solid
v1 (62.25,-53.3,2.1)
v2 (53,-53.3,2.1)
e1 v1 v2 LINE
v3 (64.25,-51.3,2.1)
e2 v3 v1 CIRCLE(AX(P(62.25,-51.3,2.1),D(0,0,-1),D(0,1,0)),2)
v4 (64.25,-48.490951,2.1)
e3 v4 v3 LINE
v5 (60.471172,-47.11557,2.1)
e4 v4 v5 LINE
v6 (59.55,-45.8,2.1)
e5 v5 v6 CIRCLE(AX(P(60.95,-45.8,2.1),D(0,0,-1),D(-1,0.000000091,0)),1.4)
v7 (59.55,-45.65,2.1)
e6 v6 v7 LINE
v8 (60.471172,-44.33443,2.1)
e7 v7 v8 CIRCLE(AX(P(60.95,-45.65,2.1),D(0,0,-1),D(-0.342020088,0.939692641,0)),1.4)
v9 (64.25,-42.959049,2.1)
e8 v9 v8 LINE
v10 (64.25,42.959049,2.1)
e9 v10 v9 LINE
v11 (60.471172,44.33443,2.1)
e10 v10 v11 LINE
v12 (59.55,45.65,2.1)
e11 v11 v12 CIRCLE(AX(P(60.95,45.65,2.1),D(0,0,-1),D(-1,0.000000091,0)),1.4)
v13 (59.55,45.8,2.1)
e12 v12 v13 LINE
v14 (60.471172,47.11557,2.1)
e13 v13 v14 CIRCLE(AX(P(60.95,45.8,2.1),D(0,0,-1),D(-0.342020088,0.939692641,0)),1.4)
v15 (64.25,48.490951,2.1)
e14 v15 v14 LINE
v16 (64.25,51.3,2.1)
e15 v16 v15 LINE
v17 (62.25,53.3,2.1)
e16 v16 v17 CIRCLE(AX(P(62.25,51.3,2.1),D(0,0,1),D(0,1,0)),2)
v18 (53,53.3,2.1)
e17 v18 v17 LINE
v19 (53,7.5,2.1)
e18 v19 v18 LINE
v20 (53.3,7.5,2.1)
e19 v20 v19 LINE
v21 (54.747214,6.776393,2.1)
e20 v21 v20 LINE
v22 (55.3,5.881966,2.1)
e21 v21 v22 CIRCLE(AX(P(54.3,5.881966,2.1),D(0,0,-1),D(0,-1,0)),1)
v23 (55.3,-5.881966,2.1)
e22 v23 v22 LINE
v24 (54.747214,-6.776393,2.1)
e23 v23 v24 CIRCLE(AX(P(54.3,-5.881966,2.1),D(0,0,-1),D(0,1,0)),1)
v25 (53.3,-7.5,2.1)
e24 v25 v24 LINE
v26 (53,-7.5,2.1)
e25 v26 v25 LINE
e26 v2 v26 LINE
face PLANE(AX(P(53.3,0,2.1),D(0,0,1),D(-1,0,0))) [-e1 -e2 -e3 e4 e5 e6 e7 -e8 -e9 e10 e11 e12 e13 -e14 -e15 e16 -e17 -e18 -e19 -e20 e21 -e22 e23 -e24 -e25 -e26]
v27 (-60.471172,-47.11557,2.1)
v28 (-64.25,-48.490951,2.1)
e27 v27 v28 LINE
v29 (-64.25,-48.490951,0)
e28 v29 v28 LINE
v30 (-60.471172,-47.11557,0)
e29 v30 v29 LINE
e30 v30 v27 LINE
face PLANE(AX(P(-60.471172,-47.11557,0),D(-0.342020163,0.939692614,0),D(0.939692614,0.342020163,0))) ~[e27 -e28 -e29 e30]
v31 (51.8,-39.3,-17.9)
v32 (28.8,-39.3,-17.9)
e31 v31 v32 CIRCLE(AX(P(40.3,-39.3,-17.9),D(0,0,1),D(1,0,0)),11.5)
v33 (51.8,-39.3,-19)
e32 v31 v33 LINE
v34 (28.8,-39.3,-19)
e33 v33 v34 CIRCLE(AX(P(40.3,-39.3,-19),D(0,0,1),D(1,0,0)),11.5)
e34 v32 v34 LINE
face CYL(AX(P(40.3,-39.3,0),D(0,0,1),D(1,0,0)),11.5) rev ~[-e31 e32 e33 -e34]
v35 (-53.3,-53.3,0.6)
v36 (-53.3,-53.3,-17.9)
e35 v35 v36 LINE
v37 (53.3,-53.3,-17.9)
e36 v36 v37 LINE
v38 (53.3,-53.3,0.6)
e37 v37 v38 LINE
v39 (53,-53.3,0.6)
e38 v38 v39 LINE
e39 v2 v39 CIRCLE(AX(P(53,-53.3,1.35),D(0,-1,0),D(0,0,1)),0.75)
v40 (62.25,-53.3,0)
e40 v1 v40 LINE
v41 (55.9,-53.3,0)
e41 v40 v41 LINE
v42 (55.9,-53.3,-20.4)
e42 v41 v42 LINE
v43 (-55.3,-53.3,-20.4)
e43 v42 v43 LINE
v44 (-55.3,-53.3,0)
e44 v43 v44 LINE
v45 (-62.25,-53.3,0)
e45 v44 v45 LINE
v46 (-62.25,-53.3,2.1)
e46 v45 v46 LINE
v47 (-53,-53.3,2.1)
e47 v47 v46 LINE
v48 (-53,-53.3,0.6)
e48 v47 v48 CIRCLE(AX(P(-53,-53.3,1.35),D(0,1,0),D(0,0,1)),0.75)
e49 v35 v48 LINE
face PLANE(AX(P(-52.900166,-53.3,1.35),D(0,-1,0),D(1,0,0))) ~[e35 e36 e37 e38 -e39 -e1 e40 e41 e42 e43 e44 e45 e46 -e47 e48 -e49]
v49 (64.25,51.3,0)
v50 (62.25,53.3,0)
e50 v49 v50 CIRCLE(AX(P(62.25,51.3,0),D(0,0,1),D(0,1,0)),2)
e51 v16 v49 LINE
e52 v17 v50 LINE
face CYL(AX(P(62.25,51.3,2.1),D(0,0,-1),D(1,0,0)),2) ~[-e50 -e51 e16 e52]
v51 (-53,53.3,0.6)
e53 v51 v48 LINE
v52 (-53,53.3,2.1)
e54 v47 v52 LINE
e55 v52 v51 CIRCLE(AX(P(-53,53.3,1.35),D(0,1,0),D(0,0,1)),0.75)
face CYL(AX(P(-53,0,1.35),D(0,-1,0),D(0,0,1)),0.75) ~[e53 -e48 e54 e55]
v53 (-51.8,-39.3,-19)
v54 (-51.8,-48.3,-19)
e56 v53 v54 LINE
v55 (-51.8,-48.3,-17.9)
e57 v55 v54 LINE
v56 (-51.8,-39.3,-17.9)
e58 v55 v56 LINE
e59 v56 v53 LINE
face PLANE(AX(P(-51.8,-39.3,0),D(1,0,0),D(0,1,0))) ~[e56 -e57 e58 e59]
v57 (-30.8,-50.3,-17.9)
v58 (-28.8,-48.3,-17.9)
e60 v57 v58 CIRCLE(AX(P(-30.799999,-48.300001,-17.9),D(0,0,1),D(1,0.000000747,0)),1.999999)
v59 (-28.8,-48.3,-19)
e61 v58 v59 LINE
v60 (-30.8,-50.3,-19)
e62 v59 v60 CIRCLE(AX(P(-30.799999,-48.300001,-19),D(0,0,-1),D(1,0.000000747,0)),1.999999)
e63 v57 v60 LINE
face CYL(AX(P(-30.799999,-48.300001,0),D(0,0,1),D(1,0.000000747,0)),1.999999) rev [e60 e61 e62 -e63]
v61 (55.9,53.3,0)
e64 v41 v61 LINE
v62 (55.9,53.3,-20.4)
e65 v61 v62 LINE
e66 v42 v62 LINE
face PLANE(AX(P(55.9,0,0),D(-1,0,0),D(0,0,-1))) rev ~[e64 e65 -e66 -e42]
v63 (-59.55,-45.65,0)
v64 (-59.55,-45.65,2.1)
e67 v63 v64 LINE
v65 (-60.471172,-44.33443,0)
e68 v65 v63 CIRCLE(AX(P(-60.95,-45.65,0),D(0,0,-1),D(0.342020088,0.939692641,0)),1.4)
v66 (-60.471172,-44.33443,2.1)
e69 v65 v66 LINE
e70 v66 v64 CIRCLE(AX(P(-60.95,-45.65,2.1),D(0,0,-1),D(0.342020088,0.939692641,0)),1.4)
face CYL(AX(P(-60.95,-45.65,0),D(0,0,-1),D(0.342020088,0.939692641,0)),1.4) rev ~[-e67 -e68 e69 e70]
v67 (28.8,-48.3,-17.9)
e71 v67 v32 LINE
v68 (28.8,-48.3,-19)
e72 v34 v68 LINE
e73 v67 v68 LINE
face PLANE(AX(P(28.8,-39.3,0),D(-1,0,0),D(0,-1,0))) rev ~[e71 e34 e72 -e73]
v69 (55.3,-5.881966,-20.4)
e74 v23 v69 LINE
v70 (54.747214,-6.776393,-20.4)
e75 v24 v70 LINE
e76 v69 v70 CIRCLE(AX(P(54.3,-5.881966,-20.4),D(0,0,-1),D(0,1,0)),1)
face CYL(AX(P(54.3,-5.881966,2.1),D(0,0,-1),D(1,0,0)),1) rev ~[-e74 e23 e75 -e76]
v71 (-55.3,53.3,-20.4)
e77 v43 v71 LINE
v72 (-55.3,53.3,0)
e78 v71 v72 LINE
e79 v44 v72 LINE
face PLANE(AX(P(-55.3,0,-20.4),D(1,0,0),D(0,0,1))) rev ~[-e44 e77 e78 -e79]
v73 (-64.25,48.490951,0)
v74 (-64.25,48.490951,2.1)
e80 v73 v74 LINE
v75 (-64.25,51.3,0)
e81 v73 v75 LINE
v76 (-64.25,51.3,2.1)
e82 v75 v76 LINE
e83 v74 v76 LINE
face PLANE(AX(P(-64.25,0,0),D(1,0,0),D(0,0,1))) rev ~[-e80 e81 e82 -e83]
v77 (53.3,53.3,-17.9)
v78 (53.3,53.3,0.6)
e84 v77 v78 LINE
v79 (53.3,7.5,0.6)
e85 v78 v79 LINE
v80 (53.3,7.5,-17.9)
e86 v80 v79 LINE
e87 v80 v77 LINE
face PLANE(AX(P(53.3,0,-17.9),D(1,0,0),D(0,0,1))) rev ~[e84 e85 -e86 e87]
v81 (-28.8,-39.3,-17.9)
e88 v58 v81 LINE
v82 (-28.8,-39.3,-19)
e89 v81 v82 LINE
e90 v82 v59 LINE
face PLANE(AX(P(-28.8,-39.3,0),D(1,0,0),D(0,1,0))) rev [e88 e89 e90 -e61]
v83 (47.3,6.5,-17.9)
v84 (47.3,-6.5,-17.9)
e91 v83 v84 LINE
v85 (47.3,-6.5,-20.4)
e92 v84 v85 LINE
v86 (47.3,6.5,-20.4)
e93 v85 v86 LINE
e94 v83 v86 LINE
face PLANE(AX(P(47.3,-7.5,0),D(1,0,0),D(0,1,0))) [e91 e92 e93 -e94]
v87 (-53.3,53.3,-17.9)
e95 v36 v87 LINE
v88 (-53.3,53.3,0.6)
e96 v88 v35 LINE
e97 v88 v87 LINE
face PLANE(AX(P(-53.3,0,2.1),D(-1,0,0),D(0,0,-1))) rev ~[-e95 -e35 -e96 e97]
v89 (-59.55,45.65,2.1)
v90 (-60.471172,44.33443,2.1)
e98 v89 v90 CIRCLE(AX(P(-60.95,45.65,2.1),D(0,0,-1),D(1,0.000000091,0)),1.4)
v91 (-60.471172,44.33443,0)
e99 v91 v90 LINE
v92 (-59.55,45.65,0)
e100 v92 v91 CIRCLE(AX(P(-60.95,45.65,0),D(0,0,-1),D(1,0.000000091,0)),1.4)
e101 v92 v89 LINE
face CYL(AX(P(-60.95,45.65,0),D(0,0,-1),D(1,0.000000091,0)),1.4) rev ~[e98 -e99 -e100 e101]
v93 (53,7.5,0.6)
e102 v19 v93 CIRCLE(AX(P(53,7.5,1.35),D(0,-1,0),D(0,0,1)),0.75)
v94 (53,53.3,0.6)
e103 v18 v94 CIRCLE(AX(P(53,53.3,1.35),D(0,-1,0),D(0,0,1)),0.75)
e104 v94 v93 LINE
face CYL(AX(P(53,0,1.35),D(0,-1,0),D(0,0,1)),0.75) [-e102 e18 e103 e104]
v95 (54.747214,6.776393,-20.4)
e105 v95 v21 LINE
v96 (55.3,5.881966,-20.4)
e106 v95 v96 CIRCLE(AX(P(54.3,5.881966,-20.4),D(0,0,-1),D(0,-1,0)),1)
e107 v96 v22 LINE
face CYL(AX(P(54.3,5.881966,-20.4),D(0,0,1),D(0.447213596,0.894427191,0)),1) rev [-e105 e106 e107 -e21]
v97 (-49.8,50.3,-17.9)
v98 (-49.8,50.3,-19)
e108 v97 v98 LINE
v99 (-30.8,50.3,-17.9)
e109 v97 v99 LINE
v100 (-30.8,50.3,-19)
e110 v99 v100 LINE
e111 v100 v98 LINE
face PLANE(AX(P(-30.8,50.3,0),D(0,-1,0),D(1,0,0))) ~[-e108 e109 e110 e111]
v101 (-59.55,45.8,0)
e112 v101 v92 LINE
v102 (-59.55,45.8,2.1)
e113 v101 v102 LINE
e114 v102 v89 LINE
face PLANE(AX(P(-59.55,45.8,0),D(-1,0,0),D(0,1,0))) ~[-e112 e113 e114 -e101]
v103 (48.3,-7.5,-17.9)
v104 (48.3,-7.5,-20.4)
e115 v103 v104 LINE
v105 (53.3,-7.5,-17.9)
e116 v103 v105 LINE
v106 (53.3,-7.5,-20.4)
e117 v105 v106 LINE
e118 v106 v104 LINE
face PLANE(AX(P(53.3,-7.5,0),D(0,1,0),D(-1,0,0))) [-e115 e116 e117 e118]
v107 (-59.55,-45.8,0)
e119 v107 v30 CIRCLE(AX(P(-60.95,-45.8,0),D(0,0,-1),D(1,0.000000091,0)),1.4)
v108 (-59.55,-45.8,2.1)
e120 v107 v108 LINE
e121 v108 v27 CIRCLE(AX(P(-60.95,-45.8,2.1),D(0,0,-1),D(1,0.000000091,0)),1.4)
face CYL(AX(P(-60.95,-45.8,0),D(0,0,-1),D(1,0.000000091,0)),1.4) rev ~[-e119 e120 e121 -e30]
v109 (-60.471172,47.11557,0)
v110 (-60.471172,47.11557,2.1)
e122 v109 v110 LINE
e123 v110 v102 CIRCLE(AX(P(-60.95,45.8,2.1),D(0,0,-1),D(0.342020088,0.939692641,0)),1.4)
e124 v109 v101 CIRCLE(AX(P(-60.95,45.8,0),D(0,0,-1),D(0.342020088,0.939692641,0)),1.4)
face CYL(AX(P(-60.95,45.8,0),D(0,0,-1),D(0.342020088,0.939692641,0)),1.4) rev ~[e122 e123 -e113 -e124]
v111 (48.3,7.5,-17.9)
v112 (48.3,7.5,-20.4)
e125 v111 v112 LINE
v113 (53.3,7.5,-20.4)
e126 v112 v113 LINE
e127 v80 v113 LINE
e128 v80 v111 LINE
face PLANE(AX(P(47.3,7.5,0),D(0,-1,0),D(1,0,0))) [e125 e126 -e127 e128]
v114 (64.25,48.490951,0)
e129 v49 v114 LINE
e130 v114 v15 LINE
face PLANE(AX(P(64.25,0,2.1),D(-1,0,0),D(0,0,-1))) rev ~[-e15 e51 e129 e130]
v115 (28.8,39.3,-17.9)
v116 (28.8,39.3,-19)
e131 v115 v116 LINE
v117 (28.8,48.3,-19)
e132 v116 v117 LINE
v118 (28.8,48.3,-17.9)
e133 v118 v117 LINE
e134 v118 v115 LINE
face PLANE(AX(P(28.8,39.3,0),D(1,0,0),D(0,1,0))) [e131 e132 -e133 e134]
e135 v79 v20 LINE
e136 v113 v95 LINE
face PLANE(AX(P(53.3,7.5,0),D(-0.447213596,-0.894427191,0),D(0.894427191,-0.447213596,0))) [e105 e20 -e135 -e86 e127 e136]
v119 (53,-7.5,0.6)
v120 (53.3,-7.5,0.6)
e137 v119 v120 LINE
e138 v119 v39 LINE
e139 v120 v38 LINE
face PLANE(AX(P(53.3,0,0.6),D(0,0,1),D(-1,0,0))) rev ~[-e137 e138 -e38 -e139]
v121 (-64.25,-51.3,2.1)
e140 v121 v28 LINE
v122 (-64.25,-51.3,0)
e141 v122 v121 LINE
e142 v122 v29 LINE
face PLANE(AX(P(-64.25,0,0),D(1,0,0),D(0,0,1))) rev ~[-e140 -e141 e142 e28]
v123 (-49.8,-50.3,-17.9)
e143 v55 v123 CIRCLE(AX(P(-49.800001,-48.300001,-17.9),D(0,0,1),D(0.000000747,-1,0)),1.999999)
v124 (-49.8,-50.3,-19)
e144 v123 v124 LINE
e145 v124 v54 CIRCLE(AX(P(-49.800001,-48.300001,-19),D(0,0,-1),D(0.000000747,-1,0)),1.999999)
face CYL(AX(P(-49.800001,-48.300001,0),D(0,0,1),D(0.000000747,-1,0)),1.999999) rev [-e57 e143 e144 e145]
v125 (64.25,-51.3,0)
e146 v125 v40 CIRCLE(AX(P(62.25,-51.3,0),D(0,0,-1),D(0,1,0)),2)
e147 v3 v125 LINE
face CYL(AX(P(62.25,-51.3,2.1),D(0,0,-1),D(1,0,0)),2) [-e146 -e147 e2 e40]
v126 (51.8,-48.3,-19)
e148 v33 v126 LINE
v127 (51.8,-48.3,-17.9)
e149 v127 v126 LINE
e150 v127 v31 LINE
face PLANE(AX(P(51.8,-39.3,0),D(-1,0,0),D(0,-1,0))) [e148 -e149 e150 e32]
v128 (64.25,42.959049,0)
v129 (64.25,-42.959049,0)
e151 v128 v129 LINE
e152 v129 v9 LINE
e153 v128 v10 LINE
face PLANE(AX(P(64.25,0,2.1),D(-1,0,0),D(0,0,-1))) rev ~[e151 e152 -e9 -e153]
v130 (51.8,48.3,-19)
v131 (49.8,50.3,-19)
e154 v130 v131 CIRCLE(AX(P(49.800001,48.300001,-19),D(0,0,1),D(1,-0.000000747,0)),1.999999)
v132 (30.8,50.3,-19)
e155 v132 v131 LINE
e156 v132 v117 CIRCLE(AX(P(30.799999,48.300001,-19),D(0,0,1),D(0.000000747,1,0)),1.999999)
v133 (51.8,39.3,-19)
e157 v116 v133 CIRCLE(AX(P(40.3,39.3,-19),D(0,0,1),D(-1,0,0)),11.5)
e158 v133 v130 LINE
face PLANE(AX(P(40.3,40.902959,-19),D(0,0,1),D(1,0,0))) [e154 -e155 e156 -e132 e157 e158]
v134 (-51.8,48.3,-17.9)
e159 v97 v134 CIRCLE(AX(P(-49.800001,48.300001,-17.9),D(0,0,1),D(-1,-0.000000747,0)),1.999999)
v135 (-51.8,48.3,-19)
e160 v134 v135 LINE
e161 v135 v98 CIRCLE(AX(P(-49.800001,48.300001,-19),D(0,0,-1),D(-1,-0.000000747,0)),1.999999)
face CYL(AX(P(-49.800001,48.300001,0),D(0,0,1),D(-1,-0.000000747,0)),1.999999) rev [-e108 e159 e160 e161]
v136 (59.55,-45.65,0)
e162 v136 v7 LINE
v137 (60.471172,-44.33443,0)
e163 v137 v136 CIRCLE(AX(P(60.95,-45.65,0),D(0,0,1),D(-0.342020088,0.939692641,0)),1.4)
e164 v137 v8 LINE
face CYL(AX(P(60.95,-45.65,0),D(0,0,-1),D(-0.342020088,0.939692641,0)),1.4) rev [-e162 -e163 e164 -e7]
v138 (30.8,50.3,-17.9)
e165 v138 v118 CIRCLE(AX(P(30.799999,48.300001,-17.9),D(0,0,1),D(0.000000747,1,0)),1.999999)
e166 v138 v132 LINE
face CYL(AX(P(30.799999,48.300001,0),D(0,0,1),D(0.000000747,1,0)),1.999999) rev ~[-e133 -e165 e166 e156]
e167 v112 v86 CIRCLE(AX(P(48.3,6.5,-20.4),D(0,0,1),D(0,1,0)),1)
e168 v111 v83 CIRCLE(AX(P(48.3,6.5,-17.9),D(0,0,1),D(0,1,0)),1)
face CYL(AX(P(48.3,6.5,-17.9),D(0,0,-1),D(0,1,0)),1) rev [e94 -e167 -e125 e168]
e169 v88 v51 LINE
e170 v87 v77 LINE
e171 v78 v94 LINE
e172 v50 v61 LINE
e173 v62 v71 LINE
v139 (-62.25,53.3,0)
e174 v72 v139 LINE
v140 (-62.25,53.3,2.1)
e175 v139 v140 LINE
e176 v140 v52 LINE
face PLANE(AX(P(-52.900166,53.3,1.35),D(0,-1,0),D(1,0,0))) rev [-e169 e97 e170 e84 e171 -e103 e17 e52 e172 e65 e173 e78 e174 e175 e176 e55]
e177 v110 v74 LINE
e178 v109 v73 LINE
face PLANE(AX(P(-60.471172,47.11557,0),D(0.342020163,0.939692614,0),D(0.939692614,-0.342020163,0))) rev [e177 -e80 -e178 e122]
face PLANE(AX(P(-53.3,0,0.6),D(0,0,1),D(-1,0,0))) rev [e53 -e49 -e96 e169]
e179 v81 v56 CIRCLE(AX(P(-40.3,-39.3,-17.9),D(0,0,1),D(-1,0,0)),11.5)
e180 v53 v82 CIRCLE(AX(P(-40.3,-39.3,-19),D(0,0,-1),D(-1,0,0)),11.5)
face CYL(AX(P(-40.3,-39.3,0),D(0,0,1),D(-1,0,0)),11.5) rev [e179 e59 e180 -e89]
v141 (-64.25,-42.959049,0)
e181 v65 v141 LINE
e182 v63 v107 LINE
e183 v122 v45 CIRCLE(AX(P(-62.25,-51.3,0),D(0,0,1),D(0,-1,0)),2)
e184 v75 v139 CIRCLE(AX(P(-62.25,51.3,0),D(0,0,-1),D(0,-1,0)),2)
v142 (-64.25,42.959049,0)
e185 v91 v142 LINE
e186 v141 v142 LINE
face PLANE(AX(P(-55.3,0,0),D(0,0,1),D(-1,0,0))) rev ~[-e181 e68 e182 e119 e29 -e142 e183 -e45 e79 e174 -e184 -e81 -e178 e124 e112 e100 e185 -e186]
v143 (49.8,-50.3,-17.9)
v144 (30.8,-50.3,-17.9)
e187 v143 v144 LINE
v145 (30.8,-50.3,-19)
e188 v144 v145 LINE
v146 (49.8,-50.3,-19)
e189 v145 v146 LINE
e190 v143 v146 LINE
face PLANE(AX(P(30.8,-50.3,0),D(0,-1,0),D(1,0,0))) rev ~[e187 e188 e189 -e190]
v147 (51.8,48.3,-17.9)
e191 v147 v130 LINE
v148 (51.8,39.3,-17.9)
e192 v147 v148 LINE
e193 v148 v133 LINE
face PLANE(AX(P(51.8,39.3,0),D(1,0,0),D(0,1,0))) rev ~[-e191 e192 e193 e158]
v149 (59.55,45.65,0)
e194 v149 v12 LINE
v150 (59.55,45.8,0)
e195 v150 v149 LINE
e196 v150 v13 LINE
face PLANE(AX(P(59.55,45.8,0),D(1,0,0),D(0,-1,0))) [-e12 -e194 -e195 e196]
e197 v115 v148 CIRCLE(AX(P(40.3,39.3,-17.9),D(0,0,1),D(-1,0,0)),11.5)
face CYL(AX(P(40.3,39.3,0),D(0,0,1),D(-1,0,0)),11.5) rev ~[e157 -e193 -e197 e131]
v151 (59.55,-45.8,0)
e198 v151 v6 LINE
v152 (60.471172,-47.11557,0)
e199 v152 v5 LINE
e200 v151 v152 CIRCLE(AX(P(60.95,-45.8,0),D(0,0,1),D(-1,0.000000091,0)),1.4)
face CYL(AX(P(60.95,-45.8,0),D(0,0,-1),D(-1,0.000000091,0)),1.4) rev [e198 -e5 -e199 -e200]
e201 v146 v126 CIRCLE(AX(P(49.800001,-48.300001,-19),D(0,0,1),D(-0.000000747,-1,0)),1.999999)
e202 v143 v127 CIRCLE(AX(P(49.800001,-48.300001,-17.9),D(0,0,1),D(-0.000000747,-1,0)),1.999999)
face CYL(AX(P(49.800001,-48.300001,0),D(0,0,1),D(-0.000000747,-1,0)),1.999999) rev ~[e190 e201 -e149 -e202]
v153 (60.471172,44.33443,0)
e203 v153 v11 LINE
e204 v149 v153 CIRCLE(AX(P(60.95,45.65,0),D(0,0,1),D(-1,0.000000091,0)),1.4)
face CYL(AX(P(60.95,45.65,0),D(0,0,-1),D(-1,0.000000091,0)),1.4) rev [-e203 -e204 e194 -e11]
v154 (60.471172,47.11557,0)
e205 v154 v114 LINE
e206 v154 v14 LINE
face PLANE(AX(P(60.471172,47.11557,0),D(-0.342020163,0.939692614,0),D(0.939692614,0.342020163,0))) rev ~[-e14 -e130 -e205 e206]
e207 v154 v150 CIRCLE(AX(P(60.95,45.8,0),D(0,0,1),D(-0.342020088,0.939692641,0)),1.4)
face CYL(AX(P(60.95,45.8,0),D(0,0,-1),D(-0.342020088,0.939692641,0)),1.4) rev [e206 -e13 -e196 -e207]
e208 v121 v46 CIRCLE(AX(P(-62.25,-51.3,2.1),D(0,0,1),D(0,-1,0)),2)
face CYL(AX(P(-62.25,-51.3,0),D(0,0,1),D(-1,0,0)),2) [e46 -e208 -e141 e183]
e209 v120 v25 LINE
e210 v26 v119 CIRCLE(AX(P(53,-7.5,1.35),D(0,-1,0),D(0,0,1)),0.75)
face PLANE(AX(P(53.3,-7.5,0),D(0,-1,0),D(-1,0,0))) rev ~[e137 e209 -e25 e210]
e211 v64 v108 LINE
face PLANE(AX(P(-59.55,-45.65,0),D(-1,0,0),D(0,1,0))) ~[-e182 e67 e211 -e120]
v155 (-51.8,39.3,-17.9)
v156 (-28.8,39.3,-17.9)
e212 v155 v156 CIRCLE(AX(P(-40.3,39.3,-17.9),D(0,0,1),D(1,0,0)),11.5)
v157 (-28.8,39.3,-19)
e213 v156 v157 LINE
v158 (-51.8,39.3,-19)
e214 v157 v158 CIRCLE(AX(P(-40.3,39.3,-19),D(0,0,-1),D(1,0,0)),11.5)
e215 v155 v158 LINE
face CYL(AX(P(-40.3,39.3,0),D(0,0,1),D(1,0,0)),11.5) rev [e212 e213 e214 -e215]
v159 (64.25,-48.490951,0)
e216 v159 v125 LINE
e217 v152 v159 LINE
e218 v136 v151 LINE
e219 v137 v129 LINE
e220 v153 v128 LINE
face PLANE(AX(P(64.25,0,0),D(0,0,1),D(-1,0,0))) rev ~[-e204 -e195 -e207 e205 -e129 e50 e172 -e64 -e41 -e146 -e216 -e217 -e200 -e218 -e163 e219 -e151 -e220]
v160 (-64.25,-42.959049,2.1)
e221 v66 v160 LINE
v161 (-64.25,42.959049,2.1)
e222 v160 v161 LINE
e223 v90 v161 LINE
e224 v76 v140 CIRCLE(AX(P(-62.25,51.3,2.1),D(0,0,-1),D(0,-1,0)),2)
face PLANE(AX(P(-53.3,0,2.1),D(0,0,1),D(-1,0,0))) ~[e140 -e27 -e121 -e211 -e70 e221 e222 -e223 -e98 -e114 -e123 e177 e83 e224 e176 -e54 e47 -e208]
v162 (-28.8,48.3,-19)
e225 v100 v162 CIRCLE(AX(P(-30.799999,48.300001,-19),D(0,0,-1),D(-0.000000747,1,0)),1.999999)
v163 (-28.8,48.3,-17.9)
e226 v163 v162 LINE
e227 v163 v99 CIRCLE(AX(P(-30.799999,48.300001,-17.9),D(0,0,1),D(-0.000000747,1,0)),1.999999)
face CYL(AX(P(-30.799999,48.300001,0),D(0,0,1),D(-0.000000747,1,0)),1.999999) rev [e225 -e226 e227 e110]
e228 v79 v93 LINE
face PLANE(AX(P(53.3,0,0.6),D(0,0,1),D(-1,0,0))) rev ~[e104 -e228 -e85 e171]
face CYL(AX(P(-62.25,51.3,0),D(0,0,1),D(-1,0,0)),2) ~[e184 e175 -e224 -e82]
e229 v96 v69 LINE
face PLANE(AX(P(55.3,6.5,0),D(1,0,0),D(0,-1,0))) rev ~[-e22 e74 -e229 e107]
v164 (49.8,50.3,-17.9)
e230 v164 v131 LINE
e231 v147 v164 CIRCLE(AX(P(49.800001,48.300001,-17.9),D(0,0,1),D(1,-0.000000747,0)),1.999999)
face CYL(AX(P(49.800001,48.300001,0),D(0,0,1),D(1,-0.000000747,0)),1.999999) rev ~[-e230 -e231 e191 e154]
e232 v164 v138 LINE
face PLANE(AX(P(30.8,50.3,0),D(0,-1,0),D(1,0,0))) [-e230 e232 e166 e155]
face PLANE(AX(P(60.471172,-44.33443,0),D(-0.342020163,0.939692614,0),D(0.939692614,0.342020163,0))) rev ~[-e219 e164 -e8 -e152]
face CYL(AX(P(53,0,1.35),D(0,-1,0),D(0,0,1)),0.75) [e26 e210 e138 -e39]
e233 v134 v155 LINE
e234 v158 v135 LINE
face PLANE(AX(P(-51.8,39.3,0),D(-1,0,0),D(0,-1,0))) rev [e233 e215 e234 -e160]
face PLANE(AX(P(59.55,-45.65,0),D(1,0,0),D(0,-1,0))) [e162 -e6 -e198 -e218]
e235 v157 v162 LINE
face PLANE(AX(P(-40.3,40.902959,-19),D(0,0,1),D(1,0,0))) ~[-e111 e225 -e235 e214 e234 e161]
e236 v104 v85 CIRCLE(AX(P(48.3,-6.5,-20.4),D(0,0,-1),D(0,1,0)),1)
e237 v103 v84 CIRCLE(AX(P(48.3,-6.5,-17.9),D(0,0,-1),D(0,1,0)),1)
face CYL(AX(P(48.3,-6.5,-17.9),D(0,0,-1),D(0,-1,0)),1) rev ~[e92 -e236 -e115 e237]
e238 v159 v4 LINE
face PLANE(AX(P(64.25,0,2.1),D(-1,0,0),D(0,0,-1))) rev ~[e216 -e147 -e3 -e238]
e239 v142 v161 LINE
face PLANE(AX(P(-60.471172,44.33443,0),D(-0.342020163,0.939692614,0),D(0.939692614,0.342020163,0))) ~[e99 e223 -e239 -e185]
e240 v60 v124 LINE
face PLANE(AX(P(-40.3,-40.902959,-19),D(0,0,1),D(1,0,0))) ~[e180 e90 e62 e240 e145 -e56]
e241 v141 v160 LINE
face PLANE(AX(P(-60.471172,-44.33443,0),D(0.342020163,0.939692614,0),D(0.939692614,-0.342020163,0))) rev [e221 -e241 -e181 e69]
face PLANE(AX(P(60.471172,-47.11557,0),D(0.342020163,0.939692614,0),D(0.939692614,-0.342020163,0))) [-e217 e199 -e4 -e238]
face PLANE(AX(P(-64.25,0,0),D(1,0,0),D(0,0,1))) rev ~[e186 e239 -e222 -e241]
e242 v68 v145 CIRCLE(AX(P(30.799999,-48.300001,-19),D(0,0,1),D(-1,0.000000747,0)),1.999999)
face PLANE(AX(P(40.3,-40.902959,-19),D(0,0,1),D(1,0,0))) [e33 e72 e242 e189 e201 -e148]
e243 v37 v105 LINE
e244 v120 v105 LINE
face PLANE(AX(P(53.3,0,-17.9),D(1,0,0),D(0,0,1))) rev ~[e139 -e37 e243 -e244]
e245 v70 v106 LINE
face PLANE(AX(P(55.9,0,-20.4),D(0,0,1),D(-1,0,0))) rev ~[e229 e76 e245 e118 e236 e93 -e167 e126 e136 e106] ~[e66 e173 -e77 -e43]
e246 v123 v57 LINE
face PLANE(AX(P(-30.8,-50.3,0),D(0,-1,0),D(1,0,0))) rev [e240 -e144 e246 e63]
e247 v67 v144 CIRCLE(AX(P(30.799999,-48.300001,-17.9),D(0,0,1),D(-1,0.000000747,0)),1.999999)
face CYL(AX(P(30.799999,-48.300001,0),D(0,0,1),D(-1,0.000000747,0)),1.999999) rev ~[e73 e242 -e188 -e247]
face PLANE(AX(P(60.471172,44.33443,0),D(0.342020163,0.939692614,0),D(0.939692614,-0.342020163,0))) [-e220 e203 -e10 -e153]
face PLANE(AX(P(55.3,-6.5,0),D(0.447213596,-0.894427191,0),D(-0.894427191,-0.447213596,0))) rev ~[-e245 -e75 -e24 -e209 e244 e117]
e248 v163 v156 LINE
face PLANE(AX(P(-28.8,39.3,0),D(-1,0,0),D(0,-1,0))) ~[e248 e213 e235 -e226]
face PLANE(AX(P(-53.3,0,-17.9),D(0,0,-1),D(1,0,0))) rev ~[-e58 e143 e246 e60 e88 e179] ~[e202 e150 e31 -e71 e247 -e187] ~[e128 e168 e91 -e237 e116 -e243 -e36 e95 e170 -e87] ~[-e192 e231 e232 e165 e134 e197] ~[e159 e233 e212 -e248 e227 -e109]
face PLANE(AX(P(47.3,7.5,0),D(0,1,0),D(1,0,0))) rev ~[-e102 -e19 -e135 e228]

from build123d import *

# Parameters (mm, degrees)
PAD001_DEPTH         = 53.3
PAD002_DEPTH         = 53.3
POCKET_DEPTH         = 19
POCKET001_DEPTH      = 5
POCKET004_DEPTH      = 20.401
POCKET004_DEPTH_BACK = -2.101
FILLET_R             = 2
FILLET001_R          = 1


with BuildPart() as part:
    # Sketch001 → Pad001 (new body, symmetric)
    with BuildSketch(Plane.XZ):
        Polygon((64.25, 0), (55.9, 0), (55.9, -20.4), (-55.3, -20.4), (-55.3, 0), (-64.25, 0), (-64.25, 2.1), (-53.3, 2.1), (-53.3, -17.9), (53.3, -17.9), (53.3, 2.1), (64.25, 2.1), align=None)
    extrude(amount=PAD001_DEPTH, both=True)

    # Sketch002 → Pad002 (join, symmetric)
    with BuildSketch(Plane.XZ):
        with BuildLine():
            ThreePointArc((53, 2.1), (52.25, 1.35), (53, 0.6))
            Line((53.3, 0.6), (53, 0.6))
            Line((53.3, 2.1), (53.3, 0.6))
            Line((53.3, 2.1), (53, 2.1))
        make_face()
    pad002 = extrude(amount=PAD002_DEPTH, both=True)

    # Sketch003 → Pocket (cut)
    with BuildSketch(Plane.XY):
        with BuildLine():
            ThreePointArc((28.8, 39.3), (40.3, 27.8), (51.8, 39.3))
            Line((51.8, 39.3), (51.8, 48.3))
            ThreePointArc((51.8, 48.3), (51.214214, 49.714214), (49.8, 50.3))
            Line((30.8, 50.3), (49.8, 50.3))
            ThreePointArc((30.8, 50.3), (29.385786, 49.714214), (28.8, 48.3))
            Line((28.8, 39.3), (28.8, 48.3))
        make_face()
        with BuildLine():
            ThreePointArc((51.8, -39.3), (40.3, -27.8), (28.8, -39.3))
            Line((28.8, -39.3), (28.8, -48.3))
            ThreePointArc((28.8, -48.3), (29.385786, -49.714214), (30.8, -50.3))
            Line((30.8, -50.3), (49.8, -50.3))
            ThreePointArc((49.8, -50.3), (51.214214, -49.714214), (51.8, -48.3))
            Line((51.8, -39.3), (51.8, -48.3))
        make_face()
    pocket = extrude(amount=-POCKET_DEPTH, mode=Mode.SUBTRACT)

    # Mirrored: Pad002, Pocket across Sketch002 V_Axis
    add(pad002.mirror(Plane(origin=(0, 0, 0), x_dir=(0, -1, 0), z_dir=(1, 0, 0))))
    add(pocket.mirror(Plane(origin=(0, 0, 0), x_dir=(0, -1, 0), z_dir=(1, 0, 0))), mode=Mode.SUBTRACT)

    # Sketch004 → Pocket001 (cut)
    with BuildSketch(Plane.XY):
        with BuildLine():
            ThreePointArc((59.55, -45.8), (59.803187, -46.603007), (60.471172, -47.11557))
            Line((60.471172, -47.11557), (64.25, -48.490951))
            Line((64.25, -42.959049), (64.25, -48.490951))
            Line((60.471172, -44.33443), (64.25, -42.959049))
            ThreePointArc((60.471172, -44.33443), (59.803187, -44.846993), (59.55, -45.65))
            Line((59.55, -45.65), (59.55, -45.8))
        make_face()
        with BuildLine():
            ThreePointArc((60.471172, 47.11557), (59.803187, 46.603007), (59.55, 45.8))
            Line((59.55, 45.8), (59.55, 45.65))
            ThreePointArc((59.55, 45.65), (59.803187, 44.846993), (60.471172, 44.33443))
            Line((60.471172, 44.33443), (64.25, 42.959049))
            Line((64.25, 48.490951), (64.25, 42.959049))
            Line((60.471172, 47.11557), (64.25, 48.490951))
        make_face()
    pocket001 = extrude(amount=POCKET001_DEPTH, mode=Mode.SUBTRACT)

    # Mirrored001: Pocket001 across YZ
    add(pocket001.mirror(Plane.YZ), mode=Mode.SUBTRACT)

    # Sketch005 → Pocket004 (cut, two sides)
    with BuildSketch(Plane.XY) as pocket004_sk:
        Polygon((47.3, -7.5), (47.3, 7.5), (53.3, 7.5), (55.3, 6.5), (55.3, -6.5), (53.3, -7.5), align=None)
    extrude(amount=-POCKET004_DEPTH, mode=Mode.SUBTRACT)
    extrude(pocket004_sk.sketch, amount=-POCKET004_DEPTH_BACK, mode=Mode.SUBTRACT)

    # Fillet
    fillet_edges = [part.edges().sort_by_distance(p)[0] for p in [
        (64.25, -53.3, 1.05),
        (64.25, 53.3, 1.05),
        (-64.25, 53.3, 1.05),
        (-64.25, -53.3, 1.05),
    ]]
    fillet(fillet_edges, radius=FILLET_R)

    # Fillet001
    fillet001_edges = [part.edges().sort_by_distance(p)[0] for p in [
        (55.3, 6.5, -9.15),
        (47.3, 7.5, -19.15),
        (47.3, -7.5, -19.15),
        (55.3, -6.5, -9.15),
    ]]
    fillet(fillet001_edges, radius=FILLET001_R)


solid = part.part
